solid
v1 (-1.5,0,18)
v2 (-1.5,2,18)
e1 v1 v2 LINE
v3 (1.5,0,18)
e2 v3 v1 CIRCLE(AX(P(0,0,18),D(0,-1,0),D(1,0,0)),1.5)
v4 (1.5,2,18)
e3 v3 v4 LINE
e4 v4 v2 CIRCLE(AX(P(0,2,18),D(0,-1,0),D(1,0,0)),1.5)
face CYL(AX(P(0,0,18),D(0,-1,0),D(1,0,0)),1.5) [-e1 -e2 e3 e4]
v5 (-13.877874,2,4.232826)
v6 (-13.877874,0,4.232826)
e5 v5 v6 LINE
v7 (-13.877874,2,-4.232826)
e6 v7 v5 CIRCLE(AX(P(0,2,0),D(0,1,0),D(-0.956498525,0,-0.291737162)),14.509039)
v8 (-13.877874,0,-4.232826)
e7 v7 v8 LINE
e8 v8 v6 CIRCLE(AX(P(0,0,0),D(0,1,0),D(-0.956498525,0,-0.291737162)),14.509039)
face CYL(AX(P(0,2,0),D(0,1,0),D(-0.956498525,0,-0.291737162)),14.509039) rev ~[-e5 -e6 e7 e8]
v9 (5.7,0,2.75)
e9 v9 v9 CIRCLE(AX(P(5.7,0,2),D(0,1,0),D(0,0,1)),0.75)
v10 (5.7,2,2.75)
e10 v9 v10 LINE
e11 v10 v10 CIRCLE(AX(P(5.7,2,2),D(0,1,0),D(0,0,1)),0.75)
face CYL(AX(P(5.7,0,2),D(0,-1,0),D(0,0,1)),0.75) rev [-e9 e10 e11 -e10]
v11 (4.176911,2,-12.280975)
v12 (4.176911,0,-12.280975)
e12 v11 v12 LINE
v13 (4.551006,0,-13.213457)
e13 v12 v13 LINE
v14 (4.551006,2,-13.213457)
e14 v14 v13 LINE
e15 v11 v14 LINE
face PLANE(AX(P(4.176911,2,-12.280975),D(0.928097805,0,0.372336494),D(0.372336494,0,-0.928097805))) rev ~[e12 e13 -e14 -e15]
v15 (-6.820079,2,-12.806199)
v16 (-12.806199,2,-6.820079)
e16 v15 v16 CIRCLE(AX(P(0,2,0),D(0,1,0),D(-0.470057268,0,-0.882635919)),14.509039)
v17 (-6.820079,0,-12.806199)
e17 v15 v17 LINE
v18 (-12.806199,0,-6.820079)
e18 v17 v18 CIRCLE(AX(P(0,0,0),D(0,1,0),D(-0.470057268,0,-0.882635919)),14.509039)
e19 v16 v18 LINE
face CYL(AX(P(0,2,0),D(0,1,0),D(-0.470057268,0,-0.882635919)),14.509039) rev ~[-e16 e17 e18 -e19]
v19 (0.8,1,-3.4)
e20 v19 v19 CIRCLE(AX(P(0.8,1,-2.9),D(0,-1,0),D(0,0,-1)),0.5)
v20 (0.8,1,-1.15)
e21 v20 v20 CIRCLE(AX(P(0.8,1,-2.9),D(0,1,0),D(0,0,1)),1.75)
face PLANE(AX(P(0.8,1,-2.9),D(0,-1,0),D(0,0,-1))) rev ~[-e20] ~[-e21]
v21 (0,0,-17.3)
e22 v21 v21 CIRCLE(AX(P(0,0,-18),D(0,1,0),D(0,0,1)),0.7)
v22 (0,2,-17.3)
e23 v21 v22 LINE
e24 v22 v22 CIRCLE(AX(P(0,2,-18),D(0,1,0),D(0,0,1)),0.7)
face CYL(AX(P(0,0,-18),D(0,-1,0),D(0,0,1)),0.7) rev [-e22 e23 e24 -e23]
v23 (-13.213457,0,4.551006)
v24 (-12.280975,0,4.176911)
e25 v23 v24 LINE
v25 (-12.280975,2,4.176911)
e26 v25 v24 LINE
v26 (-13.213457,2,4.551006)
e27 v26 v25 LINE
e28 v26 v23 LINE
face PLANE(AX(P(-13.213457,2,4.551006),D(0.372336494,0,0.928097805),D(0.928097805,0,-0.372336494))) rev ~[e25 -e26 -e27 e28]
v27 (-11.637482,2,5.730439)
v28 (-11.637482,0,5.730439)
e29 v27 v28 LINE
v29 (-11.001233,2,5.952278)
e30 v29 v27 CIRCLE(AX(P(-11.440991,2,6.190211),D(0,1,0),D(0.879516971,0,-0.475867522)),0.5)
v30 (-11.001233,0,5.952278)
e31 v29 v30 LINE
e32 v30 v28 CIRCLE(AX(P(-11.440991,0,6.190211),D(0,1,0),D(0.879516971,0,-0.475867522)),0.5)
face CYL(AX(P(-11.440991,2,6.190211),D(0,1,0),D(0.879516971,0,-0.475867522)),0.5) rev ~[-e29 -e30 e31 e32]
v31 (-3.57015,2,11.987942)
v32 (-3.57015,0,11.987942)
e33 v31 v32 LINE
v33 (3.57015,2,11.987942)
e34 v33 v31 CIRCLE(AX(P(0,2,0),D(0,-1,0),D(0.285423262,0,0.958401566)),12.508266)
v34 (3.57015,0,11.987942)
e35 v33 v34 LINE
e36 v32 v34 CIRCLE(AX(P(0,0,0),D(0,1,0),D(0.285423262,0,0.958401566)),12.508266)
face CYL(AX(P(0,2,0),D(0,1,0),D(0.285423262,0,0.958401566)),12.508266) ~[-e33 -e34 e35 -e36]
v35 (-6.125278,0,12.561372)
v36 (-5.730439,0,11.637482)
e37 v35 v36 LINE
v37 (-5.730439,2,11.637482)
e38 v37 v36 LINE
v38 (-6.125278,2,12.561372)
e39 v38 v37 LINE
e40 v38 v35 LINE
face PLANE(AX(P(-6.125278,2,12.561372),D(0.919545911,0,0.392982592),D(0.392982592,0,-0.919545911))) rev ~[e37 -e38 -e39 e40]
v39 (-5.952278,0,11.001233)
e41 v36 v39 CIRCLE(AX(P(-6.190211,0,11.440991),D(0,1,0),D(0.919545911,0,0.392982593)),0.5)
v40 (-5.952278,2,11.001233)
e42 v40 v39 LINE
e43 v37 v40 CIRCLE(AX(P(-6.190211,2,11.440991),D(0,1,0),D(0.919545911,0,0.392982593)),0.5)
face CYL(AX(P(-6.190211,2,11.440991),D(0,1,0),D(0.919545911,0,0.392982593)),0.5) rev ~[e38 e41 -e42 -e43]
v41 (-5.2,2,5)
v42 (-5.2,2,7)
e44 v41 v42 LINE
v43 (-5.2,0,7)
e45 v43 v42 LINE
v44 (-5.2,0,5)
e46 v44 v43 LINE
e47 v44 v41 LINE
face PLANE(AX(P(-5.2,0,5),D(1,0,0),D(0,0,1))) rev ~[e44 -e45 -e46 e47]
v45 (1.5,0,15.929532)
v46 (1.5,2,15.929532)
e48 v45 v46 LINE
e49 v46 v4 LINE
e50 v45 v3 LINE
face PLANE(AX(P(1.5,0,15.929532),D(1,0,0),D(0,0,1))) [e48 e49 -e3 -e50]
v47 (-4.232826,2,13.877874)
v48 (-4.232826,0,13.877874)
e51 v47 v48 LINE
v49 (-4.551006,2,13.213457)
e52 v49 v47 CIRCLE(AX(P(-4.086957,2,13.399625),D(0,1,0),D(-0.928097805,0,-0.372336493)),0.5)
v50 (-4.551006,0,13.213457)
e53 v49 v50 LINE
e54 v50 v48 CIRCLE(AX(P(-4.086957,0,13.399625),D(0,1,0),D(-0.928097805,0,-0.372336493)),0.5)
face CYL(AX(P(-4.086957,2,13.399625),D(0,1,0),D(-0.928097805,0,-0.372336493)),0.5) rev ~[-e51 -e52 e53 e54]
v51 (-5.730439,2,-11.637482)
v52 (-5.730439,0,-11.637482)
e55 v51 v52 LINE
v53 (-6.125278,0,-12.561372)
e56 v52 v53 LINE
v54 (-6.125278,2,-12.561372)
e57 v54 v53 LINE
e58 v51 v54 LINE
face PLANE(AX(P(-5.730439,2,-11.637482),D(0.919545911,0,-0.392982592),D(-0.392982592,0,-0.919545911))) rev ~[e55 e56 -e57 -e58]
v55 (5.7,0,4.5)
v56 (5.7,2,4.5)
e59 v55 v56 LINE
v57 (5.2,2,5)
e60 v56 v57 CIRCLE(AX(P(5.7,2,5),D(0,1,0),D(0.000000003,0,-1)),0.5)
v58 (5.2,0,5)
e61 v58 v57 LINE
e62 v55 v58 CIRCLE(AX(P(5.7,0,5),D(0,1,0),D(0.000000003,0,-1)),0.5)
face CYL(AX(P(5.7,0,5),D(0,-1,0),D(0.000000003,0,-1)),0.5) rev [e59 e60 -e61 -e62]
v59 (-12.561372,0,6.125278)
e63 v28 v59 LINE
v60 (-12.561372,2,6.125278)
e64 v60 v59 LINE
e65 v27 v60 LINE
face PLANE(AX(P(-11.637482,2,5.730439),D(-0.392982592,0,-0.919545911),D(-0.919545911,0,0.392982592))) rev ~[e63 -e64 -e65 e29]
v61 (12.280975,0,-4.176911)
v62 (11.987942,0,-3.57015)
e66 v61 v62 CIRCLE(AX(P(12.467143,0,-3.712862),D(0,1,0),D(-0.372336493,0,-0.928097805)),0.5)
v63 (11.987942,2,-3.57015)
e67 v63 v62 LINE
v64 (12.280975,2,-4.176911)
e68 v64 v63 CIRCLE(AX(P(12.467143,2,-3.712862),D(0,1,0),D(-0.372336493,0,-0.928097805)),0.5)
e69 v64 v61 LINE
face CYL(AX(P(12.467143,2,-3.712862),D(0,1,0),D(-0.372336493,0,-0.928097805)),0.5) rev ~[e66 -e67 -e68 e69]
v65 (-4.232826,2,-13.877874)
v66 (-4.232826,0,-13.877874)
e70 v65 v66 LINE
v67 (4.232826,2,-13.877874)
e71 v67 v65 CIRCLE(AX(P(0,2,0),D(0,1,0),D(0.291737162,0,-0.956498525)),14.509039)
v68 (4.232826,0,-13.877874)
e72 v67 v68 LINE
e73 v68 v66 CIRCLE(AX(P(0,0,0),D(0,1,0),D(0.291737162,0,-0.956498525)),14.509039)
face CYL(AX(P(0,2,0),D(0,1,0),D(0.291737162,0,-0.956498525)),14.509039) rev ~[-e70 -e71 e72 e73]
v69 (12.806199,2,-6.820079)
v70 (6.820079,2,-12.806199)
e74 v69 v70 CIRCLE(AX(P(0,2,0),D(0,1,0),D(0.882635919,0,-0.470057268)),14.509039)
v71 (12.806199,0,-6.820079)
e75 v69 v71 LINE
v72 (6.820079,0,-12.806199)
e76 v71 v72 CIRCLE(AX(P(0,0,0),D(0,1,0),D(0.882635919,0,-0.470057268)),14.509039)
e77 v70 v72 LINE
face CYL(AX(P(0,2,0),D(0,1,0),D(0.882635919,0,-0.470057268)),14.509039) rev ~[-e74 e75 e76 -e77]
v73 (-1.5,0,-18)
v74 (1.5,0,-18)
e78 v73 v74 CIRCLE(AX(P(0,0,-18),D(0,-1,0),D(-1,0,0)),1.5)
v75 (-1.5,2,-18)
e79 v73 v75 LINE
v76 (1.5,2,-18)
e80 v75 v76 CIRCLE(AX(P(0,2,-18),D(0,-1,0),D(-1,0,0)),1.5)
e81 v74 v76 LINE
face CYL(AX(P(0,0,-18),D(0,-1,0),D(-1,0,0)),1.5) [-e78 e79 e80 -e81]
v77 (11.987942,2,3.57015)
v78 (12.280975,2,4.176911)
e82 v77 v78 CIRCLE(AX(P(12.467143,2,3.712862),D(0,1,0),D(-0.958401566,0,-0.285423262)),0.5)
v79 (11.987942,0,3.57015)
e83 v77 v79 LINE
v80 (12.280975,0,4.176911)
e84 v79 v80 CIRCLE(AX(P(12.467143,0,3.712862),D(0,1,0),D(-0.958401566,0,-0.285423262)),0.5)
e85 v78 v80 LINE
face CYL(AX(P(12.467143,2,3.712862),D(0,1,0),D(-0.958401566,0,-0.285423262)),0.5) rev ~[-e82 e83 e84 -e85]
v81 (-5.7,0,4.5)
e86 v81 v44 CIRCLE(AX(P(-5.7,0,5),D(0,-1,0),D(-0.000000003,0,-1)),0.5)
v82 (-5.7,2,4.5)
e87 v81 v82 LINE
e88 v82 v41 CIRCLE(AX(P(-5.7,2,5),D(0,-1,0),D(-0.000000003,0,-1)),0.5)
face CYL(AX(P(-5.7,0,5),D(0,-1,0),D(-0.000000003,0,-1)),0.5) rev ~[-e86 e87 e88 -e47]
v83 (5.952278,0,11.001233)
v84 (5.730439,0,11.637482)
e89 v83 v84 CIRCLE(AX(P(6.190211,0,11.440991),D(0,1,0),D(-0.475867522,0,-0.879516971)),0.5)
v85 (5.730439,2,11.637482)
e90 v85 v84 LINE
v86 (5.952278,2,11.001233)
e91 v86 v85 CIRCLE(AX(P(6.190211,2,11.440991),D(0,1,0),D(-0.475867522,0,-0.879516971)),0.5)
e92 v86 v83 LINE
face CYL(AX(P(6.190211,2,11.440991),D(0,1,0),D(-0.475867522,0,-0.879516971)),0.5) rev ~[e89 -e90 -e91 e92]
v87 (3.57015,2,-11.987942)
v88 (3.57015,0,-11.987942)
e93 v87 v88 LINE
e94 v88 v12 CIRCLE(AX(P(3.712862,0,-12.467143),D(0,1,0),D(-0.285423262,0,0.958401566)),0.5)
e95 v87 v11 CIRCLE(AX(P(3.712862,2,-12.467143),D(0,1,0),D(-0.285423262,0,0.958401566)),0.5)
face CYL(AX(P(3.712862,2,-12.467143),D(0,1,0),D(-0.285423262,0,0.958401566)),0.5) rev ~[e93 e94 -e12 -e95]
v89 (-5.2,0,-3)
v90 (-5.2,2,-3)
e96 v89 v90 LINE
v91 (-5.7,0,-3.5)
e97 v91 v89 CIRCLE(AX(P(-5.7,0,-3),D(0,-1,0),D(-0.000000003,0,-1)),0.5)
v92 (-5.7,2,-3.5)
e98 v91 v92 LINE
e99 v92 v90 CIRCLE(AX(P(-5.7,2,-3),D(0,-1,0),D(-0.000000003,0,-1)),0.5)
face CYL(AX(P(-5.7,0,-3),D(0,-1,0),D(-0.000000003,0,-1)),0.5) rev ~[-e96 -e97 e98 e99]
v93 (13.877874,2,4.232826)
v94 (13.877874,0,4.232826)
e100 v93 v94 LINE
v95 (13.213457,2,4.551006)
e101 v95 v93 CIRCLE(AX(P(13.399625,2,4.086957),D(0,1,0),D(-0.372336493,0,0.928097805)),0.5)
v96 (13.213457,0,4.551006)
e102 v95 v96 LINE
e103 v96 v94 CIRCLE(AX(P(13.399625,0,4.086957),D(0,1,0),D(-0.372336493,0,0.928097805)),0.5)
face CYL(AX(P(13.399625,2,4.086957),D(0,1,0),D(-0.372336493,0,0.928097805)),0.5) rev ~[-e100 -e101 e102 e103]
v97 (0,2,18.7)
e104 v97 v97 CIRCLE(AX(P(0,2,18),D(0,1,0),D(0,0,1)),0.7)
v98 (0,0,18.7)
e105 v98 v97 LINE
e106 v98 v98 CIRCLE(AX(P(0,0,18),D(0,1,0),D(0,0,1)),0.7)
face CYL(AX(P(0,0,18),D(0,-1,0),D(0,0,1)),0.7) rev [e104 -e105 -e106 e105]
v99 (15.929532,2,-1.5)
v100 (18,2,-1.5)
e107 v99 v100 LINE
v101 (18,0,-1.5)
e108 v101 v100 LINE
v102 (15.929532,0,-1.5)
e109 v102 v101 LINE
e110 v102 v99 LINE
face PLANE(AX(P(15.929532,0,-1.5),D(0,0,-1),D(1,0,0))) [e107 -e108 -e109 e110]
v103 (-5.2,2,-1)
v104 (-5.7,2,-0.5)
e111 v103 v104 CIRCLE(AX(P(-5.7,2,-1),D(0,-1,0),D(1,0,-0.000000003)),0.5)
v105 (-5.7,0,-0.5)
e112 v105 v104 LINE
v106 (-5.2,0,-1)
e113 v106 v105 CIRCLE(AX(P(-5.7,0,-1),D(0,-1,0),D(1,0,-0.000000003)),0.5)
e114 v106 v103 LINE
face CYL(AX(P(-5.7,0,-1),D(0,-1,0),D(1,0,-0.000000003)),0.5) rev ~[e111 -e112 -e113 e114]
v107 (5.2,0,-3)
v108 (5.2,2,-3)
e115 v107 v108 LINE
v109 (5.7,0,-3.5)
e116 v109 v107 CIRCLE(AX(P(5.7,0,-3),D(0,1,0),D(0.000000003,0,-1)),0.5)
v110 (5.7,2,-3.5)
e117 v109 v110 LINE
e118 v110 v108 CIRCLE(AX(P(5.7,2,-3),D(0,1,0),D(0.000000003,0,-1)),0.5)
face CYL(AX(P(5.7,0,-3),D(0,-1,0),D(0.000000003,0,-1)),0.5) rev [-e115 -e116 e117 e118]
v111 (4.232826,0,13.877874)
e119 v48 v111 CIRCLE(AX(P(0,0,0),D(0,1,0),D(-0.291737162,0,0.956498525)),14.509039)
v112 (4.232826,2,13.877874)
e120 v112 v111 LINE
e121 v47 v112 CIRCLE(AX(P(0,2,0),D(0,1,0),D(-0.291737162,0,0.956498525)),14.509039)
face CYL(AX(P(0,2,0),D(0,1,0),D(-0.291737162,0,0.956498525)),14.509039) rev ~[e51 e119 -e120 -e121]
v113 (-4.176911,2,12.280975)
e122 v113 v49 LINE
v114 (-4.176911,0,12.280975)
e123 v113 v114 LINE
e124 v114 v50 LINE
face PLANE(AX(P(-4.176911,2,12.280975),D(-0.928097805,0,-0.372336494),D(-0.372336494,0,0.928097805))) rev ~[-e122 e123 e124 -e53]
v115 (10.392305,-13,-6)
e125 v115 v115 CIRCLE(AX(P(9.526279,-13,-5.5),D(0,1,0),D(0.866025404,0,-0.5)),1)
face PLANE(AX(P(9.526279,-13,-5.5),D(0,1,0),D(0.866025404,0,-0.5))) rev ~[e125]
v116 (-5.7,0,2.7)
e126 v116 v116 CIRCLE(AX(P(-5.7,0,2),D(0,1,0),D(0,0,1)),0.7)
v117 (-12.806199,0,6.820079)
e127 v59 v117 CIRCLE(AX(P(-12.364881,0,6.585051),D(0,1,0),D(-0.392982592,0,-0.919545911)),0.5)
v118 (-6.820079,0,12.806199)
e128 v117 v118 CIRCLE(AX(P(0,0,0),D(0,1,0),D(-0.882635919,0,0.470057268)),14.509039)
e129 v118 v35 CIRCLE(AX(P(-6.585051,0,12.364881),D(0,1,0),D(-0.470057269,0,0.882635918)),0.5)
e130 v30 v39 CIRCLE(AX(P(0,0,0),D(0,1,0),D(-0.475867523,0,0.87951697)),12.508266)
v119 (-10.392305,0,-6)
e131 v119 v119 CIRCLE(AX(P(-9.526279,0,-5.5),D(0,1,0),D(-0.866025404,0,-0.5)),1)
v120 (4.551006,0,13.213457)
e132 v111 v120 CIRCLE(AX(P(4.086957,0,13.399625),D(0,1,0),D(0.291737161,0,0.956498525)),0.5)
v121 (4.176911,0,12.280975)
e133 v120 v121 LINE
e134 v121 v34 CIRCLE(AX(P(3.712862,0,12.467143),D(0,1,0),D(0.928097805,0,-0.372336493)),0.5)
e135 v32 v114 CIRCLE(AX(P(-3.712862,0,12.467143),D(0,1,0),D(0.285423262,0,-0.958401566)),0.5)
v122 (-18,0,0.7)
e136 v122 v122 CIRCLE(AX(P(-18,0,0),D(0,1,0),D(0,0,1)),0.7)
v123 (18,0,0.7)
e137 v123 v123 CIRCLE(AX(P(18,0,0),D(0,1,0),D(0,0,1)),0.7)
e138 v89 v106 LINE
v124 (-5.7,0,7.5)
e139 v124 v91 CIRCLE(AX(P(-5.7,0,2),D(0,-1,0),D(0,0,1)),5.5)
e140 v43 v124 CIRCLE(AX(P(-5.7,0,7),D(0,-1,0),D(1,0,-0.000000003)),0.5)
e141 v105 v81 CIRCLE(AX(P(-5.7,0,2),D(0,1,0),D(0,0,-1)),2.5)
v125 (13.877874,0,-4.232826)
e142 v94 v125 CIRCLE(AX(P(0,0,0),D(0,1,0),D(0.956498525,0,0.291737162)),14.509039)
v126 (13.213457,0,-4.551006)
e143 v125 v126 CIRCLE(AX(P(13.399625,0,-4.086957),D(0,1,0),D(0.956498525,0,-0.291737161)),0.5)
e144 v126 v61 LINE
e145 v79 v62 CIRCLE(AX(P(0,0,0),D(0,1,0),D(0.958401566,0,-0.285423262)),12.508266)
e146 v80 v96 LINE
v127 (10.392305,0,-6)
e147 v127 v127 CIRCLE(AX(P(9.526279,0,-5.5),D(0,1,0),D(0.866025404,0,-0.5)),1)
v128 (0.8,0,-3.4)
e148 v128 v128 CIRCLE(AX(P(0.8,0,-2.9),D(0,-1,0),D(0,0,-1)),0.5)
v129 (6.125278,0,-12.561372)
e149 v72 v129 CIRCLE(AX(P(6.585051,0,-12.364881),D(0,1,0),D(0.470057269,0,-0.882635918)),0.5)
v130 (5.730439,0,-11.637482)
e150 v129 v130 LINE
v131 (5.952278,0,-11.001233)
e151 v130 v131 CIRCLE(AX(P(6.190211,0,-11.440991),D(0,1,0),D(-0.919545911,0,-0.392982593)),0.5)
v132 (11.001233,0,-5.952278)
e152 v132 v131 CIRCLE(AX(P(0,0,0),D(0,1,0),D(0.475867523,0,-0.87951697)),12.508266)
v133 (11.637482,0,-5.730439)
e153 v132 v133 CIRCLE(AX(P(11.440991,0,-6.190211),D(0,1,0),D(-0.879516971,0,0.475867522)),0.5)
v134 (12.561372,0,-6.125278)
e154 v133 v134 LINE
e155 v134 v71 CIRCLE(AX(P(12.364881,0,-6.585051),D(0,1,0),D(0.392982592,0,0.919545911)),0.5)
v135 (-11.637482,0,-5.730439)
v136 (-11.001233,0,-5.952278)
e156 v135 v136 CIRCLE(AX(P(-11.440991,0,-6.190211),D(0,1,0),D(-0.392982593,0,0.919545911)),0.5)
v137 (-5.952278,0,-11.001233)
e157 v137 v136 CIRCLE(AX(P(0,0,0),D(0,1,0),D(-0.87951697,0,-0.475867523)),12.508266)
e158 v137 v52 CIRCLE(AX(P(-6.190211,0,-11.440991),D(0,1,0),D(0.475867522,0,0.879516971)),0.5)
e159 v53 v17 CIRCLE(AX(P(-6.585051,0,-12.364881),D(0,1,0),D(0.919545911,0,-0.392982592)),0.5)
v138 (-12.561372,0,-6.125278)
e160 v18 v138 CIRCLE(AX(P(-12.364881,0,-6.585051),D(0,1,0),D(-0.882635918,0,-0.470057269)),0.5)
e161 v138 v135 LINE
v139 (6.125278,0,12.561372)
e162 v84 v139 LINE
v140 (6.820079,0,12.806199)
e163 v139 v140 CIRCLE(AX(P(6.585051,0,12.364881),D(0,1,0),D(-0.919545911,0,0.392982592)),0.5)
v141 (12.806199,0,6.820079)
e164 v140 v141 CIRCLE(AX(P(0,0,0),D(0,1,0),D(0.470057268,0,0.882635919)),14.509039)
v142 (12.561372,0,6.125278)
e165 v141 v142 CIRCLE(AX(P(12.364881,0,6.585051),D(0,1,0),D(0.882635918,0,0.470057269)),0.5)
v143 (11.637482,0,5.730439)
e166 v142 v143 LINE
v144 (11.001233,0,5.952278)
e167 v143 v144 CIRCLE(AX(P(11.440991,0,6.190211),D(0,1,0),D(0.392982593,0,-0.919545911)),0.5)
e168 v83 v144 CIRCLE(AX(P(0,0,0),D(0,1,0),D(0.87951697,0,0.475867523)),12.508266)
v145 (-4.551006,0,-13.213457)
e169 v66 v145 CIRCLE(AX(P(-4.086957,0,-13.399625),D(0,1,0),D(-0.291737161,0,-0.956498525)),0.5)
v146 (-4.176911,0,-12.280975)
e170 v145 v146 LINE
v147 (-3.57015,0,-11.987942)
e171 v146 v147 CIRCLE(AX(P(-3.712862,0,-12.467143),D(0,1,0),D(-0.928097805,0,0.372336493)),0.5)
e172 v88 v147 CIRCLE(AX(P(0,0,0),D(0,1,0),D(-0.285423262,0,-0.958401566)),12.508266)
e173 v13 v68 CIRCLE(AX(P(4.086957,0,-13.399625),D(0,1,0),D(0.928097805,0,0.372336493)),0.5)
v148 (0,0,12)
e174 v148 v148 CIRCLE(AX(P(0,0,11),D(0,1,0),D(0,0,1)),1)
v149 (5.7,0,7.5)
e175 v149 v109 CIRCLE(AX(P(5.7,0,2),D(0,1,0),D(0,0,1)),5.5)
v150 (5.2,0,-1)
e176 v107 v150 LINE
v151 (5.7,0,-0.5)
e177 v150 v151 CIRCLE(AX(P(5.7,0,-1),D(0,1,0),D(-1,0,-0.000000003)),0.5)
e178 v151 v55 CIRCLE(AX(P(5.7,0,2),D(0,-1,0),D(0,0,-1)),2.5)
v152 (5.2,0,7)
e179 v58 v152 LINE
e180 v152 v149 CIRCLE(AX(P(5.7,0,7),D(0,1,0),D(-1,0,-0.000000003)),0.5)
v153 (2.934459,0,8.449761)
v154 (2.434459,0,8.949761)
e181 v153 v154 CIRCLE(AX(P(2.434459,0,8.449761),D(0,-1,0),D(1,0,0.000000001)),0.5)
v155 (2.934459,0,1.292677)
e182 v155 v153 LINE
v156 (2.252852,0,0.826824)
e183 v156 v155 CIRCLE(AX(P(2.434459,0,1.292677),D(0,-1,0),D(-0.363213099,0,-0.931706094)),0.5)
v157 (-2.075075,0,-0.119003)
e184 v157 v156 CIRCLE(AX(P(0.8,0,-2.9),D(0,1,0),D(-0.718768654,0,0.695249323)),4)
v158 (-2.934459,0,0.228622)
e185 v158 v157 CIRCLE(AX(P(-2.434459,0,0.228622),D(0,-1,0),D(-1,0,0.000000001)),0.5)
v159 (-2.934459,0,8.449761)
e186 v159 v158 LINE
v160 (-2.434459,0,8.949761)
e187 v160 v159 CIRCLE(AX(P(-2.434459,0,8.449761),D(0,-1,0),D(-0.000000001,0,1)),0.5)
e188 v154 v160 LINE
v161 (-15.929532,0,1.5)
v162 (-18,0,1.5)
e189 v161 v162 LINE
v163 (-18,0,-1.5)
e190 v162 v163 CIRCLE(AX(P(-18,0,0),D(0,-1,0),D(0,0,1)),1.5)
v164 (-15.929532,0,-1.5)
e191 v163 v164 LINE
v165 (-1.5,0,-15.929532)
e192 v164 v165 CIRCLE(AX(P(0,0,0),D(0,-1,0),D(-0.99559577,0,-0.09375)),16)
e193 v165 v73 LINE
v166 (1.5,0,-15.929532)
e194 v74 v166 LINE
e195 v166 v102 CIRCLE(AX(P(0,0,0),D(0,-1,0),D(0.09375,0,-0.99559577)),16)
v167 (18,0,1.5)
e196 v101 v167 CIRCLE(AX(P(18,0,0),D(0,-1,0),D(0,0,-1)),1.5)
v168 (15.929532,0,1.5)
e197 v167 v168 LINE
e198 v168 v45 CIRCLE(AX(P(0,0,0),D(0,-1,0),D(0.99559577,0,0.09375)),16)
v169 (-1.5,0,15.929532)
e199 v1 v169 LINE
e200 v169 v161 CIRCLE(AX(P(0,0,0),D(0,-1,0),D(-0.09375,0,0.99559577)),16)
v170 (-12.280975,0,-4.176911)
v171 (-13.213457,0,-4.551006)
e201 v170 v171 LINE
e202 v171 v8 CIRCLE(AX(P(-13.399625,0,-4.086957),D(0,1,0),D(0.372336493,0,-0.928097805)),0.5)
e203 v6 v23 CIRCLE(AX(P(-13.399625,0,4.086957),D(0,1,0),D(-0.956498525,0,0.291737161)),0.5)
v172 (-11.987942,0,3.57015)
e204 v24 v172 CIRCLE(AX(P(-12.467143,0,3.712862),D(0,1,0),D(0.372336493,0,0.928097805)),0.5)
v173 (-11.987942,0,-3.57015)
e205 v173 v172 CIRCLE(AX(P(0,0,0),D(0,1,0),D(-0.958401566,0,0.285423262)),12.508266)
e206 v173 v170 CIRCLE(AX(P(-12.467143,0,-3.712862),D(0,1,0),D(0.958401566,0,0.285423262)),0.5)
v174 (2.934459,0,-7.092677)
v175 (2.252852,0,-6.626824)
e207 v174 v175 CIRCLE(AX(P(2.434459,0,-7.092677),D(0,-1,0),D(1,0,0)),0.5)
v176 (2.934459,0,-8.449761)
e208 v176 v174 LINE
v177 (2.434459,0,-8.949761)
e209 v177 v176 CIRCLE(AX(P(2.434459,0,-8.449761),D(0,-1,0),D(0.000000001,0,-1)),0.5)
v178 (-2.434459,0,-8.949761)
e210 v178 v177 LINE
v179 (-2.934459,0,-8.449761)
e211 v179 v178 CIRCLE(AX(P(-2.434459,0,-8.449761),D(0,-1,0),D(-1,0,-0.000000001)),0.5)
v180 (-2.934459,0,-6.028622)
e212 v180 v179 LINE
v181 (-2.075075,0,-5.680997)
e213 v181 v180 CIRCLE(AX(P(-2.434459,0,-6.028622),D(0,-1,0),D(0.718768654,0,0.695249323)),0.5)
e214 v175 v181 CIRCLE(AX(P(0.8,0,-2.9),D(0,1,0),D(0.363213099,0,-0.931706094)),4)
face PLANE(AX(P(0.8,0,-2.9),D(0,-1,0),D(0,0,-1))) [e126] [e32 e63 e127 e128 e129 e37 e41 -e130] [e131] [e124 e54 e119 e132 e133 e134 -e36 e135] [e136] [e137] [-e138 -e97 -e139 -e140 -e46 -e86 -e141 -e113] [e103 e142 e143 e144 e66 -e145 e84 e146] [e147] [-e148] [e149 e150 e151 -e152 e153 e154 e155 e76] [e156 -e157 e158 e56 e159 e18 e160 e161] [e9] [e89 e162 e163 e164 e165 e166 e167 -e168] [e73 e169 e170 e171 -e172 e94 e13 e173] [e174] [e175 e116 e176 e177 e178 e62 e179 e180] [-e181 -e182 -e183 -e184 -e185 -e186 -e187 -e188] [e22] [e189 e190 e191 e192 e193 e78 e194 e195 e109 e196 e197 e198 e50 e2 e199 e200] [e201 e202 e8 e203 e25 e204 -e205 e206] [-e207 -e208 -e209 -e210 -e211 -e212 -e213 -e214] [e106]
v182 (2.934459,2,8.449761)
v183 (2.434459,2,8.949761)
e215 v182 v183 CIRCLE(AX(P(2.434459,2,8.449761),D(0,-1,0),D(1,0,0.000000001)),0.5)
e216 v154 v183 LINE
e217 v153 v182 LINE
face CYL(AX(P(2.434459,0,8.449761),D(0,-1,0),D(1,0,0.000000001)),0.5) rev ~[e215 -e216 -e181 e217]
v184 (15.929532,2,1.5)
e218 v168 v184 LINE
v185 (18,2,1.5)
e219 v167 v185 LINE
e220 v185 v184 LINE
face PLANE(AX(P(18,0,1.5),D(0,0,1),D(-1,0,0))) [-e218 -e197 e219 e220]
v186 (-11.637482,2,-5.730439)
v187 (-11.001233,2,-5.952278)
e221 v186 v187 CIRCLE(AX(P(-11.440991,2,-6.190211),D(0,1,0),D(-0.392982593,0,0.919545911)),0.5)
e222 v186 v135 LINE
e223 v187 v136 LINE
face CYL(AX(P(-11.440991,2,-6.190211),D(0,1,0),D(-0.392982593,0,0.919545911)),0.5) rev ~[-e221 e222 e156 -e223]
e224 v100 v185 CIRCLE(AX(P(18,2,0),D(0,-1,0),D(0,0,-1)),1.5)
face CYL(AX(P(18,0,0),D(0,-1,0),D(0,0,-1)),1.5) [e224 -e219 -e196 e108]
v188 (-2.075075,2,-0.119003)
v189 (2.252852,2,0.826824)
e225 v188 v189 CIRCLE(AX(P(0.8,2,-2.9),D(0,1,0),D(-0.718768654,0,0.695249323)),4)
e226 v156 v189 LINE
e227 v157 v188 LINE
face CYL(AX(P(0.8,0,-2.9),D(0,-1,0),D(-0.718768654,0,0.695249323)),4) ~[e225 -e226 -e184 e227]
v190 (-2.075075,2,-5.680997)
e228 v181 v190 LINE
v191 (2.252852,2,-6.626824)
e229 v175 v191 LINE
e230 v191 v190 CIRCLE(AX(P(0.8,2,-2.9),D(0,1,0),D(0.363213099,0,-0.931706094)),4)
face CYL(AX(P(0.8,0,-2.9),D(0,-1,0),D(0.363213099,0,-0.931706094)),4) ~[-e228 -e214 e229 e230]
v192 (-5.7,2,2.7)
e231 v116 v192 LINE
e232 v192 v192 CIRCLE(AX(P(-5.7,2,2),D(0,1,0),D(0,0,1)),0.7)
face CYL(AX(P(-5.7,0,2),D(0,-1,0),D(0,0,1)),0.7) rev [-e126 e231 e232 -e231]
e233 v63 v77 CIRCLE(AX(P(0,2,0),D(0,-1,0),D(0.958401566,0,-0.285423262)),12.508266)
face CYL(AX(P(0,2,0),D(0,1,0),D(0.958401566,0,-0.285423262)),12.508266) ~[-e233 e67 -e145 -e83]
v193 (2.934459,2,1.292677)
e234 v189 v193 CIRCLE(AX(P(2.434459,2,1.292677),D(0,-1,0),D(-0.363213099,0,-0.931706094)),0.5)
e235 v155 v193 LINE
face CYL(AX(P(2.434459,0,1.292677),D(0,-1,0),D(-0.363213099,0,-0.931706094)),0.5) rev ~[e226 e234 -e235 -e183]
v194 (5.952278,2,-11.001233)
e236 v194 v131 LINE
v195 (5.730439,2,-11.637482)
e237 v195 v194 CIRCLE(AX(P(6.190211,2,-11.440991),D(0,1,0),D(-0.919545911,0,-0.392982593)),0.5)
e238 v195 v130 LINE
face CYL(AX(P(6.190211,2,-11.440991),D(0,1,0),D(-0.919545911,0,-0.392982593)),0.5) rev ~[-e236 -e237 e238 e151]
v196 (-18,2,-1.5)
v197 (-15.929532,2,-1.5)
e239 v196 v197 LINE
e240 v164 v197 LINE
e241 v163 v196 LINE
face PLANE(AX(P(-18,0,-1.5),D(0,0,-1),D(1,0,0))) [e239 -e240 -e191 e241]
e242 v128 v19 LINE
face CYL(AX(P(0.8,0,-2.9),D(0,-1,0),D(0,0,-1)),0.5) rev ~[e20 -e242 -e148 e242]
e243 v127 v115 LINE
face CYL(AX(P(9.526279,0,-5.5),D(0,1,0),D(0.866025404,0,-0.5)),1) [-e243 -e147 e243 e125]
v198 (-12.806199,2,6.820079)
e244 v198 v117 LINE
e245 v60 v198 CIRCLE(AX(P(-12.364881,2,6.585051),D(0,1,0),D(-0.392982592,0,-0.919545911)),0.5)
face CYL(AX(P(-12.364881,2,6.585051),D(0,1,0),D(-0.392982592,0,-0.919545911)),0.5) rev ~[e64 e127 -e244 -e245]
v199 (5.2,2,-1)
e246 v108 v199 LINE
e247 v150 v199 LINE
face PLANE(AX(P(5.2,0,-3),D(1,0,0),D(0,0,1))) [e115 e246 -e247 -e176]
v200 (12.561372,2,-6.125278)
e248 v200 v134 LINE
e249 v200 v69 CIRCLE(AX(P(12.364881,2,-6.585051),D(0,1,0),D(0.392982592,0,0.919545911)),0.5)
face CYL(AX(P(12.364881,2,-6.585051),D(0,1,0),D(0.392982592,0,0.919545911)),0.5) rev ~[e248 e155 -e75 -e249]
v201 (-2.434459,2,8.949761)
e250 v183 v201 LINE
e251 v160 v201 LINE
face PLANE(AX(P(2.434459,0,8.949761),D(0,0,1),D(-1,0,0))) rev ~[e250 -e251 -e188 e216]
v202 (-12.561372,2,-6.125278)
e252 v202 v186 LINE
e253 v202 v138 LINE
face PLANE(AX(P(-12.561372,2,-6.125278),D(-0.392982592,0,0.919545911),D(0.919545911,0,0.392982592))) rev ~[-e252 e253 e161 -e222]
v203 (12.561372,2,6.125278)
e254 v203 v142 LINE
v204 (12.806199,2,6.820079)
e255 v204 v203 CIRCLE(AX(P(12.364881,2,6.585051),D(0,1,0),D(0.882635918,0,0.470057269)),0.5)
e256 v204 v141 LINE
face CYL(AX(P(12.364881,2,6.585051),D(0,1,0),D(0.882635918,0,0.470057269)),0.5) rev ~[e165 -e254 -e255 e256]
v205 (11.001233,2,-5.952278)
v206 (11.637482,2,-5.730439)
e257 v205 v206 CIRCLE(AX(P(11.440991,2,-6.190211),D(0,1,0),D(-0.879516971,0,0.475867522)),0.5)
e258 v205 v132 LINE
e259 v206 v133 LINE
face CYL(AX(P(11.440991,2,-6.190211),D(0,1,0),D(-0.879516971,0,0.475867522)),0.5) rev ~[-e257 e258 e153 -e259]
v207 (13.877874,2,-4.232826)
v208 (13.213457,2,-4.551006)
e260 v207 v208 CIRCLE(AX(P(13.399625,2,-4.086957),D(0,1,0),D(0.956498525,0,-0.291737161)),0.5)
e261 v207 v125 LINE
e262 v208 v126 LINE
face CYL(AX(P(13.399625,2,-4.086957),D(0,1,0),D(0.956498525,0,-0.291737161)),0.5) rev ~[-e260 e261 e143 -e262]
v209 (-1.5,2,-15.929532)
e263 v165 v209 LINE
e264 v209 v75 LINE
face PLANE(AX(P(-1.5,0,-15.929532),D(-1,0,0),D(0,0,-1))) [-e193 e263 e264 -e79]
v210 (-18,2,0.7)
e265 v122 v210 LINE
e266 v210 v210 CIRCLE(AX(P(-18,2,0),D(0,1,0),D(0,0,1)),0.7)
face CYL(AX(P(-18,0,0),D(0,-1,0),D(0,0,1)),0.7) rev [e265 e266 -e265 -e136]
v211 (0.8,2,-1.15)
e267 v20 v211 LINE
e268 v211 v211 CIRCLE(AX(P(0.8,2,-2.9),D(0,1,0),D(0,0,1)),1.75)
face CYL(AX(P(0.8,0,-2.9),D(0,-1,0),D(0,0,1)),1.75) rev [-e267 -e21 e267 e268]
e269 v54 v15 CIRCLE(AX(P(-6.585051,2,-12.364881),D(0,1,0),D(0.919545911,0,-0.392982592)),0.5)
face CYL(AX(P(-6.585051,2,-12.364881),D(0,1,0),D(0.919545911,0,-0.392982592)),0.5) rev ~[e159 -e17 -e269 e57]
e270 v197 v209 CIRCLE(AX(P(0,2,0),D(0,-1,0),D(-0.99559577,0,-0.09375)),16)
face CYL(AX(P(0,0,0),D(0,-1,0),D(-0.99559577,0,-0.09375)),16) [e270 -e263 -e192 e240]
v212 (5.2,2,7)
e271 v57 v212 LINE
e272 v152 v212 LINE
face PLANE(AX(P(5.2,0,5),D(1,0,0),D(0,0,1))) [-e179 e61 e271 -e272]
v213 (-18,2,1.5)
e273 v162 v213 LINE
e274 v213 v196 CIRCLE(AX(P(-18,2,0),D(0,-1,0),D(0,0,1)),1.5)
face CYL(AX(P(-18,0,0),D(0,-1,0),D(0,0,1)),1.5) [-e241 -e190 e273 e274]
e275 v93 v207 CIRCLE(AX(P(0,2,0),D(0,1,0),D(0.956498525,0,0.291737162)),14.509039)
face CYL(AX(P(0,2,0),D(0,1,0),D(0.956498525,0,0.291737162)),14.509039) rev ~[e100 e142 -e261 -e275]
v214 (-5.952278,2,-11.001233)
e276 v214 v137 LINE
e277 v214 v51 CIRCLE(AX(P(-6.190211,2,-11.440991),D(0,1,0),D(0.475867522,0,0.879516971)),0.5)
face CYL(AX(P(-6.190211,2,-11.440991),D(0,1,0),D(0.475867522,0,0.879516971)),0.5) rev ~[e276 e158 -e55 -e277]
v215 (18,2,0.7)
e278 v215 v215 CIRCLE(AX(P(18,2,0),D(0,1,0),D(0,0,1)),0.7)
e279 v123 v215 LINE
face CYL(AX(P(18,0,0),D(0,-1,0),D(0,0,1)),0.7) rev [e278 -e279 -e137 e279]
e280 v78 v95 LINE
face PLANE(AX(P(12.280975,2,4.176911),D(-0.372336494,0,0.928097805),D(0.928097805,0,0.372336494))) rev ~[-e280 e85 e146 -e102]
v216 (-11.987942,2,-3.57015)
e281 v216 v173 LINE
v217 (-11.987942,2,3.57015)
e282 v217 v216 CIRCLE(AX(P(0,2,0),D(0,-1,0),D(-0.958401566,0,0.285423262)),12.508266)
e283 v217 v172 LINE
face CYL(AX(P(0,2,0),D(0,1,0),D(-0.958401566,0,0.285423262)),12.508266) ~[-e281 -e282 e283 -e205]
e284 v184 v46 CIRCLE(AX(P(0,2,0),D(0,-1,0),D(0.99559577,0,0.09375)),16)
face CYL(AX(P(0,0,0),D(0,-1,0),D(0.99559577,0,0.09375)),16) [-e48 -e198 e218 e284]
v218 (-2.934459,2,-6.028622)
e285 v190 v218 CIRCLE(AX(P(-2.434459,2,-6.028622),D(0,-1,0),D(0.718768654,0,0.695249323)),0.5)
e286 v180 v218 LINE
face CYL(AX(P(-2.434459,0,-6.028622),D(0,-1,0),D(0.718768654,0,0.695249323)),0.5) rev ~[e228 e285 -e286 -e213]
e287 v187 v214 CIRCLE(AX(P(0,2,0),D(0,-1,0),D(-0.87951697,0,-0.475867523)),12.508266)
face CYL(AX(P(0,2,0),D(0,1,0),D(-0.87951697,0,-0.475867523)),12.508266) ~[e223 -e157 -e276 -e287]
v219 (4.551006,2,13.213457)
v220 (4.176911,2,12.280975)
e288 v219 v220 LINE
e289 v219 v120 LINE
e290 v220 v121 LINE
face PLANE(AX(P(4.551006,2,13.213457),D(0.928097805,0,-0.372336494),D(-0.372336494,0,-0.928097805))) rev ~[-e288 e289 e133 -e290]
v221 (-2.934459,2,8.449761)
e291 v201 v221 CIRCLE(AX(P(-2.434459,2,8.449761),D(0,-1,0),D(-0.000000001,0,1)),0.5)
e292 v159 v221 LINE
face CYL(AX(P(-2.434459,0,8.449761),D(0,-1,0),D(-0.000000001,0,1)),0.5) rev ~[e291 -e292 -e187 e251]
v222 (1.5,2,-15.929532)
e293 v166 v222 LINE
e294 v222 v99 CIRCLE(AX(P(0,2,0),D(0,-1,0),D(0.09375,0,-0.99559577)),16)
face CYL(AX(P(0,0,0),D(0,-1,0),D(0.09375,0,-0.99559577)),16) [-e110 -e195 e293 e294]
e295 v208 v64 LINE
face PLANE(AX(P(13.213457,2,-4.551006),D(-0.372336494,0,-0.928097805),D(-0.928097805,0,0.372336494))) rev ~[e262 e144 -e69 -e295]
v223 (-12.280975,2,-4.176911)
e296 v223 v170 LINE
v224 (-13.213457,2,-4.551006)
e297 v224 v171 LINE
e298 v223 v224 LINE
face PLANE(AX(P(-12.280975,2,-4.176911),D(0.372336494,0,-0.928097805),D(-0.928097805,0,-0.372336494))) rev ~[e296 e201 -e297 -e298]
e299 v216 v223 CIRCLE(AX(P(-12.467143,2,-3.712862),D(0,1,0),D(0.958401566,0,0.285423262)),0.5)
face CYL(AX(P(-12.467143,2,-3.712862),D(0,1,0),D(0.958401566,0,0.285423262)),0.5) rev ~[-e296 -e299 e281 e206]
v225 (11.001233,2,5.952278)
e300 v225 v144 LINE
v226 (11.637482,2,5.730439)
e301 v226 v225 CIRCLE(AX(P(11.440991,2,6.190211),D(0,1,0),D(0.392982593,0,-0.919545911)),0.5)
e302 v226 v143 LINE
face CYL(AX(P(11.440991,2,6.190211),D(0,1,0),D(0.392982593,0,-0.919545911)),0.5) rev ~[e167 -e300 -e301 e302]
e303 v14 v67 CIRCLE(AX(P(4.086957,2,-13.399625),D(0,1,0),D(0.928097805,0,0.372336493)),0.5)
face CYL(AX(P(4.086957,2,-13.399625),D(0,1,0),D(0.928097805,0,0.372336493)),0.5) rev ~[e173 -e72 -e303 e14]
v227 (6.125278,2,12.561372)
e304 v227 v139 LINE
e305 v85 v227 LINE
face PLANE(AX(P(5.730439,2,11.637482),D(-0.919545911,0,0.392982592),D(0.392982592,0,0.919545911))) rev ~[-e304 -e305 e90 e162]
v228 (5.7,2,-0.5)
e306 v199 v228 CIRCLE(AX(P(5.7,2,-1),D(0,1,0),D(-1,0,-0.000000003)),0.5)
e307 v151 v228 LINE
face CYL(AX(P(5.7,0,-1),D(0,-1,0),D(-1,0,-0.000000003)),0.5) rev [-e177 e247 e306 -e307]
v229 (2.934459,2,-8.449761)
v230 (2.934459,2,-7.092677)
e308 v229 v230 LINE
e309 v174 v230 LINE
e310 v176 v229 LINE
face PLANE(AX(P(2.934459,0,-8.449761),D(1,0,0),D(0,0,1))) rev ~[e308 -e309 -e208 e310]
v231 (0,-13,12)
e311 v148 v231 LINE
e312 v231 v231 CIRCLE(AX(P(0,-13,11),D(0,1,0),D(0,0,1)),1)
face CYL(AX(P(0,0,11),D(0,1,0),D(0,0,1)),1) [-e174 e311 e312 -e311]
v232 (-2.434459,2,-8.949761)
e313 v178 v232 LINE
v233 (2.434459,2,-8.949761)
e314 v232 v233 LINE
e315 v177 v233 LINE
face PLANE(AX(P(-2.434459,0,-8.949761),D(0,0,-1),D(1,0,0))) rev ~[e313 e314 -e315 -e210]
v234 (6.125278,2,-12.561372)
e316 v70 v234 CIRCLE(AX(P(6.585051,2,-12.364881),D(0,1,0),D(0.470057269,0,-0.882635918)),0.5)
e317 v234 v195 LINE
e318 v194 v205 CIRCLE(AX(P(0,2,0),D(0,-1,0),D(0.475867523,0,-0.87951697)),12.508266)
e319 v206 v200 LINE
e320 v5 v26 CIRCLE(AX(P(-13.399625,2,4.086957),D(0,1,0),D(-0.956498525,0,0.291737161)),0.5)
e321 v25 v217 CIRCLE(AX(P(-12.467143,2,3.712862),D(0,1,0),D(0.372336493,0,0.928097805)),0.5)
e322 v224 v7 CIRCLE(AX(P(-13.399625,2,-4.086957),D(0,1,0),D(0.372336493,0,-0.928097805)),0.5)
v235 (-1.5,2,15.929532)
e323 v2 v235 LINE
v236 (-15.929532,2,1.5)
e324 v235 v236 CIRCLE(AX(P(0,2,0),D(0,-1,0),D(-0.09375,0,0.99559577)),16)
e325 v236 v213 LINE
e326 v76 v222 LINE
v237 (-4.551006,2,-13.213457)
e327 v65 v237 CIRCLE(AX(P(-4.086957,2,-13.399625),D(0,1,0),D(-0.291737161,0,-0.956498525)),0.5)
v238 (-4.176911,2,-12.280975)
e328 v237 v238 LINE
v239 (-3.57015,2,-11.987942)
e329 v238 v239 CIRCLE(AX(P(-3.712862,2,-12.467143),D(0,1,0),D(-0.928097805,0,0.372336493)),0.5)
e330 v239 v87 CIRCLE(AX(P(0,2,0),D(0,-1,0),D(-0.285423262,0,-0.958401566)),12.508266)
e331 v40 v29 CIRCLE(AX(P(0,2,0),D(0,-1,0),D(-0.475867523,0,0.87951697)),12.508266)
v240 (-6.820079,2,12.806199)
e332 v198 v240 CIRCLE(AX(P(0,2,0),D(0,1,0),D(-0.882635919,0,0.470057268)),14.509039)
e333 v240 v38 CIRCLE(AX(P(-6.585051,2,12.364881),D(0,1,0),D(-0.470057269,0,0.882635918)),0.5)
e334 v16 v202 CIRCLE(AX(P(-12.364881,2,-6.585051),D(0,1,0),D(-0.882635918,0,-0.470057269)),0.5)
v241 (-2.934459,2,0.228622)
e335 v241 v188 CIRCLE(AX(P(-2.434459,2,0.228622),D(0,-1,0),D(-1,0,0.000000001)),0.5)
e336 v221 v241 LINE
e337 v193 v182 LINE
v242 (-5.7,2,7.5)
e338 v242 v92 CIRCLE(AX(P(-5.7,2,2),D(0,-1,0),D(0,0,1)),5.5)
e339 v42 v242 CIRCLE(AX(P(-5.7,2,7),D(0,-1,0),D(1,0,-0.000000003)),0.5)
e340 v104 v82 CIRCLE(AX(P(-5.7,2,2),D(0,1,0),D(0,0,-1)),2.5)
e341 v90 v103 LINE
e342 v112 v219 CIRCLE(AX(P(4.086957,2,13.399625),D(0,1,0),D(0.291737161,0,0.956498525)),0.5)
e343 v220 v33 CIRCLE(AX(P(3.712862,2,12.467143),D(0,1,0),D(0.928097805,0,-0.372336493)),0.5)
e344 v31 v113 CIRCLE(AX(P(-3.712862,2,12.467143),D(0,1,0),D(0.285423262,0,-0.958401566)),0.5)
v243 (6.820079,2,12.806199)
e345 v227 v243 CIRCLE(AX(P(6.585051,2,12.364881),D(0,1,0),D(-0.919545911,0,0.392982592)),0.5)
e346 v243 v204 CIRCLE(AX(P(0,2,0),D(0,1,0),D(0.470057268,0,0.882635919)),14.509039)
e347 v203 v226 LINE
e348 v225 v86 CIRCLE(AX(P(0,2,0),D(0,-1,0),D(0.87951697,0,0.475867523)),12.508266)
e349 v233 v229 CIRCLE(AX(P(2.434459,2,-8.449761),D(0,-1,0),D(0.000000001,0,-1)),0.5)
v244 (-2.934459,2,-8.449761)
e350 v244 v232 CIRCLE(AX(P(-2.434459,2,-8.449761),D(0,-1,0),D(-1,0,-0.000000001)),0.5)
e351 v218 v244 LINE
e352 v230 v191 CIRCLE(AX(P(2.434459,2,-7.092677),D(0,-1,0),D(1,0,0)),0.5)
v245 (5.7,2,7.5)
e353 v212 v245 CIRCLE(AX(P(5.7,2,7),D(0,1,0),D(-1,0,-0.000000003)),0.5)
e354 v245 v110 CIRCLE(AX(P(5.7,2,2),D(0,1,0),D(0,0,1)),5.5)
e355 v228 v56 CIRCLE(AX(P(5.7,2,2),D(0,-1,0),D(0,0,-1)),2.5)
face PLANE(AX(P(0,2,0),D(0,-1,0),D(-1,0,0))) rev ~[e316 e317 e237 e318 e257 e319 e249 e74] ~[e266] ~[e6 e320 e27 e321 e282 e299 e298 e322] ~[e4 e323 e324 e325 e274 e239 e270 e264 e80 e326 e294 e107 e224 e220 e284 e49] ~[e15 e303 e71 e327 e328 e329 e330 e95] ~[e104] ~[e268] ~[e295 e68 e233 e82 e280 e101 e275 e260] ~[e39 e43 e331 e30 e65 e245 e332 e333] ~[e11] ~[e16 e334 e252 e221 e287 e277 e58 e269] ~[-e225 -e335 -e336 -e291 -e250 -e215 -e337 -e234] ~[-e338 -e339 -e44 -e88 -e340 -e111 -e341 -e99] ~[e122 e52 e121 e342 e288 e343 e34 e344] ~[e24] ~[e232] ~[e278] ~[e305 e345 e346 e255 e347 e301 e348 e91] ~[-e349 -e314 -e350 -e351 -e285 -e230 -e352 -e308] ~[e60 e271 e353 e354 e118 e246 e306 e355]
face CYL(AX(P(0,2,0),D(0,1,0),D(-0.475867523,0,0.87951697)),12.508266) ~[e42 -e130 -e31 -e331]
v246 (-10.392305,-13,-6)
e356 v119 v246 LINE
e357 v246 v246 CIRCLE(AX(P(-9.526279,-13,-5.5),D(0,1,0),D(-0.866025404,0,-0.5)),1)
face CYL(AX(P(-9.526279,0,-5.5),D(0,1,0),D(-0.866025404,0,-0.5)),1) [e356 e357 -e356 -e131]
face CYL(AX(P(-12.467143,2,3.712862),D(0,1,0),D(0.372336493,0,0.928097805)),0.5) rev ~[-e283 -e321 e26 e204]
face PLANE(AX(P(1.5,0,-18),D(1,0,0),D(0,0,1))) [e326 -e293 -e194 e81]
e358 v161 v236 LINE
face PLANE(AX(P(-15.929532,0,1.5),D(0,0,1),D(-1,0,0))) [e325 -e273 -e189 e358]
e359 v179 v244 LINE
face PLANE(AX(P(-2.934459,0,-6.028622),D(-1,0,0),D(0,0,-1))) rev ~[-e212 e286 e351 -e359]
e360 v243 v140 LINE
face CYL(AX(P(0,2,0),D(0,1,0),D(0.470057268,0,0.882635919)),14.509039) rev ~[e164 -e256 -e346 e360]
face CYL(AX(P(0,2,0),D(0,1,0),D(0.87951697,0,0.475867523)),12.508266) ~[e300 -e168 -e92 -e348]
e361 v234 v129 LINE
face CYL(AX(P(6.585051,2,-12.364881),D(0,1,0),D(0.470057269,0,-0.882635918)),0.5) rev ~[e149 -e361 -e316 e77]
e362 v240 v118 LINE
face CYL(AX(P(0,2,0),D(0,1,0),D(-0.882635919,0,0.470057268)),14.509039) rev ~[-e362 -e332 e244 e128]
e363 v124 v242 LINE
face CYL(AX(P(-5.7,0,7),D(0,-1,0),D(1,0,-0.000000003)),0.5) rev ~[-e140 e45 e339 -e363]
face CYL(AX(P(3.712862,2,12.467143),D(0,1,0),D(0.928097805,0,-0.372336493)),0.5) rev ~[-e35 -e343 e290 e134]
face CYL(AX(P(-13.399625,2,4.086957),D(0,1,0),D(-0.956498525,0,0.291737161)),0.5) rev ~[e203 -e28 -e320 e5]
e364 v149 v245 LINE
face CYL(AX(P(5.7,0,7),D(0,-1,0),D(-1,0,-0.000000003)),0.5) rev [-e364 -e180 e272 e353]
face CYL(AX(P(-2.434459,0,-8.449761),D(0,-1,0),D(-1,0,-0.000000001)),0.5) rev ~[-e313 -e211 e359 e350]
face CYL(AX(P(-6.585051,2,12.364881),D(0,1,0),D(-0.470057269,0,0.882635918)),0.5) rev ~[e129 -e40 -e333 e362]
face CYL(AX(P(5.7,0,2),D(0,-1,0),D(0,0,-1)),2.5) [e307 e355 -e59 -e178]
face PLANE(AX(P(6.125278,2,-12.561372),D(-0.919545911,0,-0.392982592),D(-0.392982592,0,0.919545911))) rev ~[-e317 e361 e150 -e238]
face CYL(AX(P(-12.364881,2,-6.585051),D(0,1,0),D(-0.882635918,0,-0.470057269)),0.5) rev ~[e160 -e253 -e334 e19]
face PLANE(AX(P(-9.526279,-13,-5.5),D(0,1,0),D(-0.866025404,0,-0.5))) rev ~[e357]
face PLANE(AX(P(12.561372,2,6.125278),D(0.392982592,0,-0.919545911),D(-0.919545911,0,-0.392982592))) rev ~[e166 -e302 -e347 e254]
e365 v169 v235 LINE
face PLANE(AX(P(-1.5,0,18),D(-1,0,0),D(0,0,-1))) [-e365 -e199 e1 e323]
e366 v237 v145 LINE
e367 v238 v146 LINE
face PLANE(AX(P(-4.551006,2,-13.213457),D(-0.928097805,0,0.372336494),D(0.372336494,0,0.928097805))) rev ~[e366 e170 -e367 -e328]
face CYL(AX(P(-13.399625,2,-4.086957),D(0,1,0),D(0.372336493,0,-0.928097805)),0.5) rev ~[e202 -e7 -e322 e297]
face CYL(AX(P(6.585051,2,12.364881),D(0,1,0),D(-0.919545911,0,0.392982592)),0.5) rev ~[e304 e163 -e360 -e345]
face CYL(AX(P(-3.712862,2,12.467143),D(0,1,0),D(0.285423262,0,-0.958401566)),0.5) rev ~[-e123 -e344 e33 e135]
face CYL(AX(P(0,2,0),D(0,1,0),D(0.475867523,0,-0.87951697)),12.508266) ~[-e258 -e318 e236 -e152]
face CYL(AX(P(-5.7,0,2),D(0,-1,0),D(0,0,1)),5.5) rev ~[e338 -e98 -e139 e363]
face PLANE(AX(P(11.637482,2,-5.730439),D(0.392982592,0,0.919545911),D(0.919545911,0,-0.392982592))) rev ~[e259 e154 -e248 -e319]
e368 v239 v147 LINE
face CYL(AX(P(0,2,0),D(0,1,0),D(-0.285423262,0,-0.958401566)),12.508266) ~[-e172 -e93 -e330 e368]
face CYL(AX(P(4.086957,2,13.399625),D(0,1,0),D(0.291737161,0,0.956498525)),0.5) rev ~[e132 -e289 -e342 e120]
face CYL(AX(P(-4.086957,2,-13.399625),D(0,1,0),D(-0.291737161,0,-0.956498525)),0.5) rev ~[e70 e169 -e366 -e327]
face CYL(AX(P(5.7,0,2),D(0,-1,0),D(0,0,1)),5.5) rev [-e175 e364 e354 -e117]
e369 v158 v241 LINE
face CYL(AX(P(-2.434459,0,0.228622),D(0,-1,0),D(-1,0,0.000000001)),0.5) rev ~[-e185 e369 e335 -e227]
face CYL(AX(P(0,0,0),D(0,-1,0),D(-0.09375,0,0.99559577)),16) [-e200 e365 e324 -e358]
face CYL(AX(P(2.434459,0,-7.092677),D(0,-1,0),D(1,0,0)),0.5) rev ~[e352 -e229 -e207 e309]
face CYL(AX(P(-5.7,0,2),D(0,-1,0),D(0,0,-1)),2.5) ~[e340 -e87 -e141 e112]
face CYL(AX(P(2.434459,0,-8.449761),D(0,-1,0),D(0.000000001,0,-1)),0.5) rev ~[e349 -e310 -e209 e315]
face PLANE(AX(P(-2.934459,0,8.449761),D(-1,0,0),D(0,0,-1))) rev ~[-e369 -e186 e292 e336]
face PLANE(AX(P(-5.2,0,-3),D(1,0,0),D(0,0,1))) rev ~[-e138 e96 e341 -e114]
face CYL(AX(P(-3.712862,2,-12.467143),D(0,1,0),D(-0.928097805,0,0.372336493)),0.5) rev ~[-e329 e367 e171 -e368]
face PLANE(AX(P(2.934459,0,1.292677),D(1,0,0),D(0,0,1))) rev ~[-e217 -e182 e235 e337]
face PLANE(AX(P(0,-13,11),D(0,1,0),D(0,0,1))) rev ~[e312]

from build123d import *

# Parameters (mm, degrees)
SKETCH1_R           = 1
BOSS_EXTRUDE1_DEPTH = 13
SKETCH2_R           = 1.75
SKETCH2_R_2         = 0.7
SKETCH2_R_3         = 0.75
BOSS_EXTRUDE2_DEPTH = 2
CIRPATTERN2_COUNT   = 3
SKETCH5_R           = 1.75
SKETCH5_R_2         = 0.5
BOSS_EXTRUDE3_DEPTH = 1
CUT_EXTRUDE1_REACH  = 33.393
CIRPATTERN3_COUNT   = 8


with BuildPart() as part:
    # Sketch1 → Boss-Extrude1 (new body)
    with BuildSketch(Plane(origin=(0, 0, 0), x_dir=(1, 0, 0), z_dir=(0, 1, 0))):
        with Locations((0, -11)):
            Circle(SKETCH1_R)
    boss_extrude1 = extrude(amount=-BOSS_EXTRUDE1_DEPTH)

    # Sketch2 → Boss-Extrude2 (add)
    with BuildSketch(Plane(origin=(0, 0, 0), x_dir=(1, 0, 0), z_dir=(0, 1, 0))):
        with BuildLine():
            Line((-18, 1.5), (-15.929532322, 1.5))
            ThreePointArc((-15.929532322, 1.5), (-11.313708499, 11.313708499), (-1.5, 15.929532322))
            Line((-1.5, 15.929532322), (-1.5, 18))
            ThreePointArc((-1.5, 18), (0, 19.5), (1.5, 18))
            Line((1.5, 18), (1.5, 15.929532322))
            ThreePointArc((1.5, 15.929532322), (11.313708499, 11.313708499), (15.929532322, 1.5))
            Line((15.929532322, 1.5), (18, 1.5))
            ThreePointArc((18, 1.5), (19.5, 0), (18, -1.5))
            Line((18, -1.5), (15.929532322, -1.5))
            ThreePointArc((15.929532322, -1.5), (11.313708499, -11.313708499), (1.5, -15.929532322))
            Line((1.5, -15.929532322), (1.5, -18))
            ThreePointArc((1.5, -18), (0, -19.5), (-1.5, -18))
            Line((-1.5, -18), (-1.5, -15.929532322))
            ThreePointArc((-1.5, -15.929532322), (-11.313708499, -11.313708499), (-15.929532322, -1.5))
            Line((-15.929532322, -1.5), (-18, -1.5))
            ThreePointArc((-18, -1.5), (-19.5, 0), (-18, 1.5))
        make_face()
        with Locations((0.8, 2.9)):
            Circle(SKETCH2_R, mode=Mode.SUBTRACT)
        with Locations((0, 18)):
            Circle(SKETCH2_R_2, mode=Mode.SUBTRACT)
        with Locations((18, 0)):
            Circle(SKETCH2_R_2, mode=Mode.SUBTRACT)
        with Locations((-18, 0)):
            Circle(SKETCH2_R_2, mode=Mode.SUBTRACT)
        with Locations((0, -18)):
            Circle(SKETCH2_R_2, mode=Mode.SUBTRACT)
        with Locations((-5.7, -2)):
            Circle(SKETCH2_R_2, mode=Mode.SUBTRACT)
        with Locations((5.7, -2)):
            Circle(SKETCH2_R_3, mode=Mode.SUBTRACT)
        with BuildLine():
            Line((-5.2, 3), (-5.2, 1))
            ThreePointArc((-5.2, 1), (-5.346446609, 0.646446609), (-5.7, 0.5))
            ThreePointArc((-5.7, 0.5), (-8.2, -2), (-5.7, -4.5))
            ThreePointArc((-5.7, -4.5), (-5.346446609, -4.646446609), (-5.2, -5))
            Line((-5.2, -5), (-5.2, -7))
            ThreePointArc((-5.2, -7), (-5.346446609, -7.353553391), (-5.7, -7.5))
            ThreePointArc((-5.7, -7.5), (-11.2, -2), (-5.7, 3.5))
            ThreePointArc((-5.7, 3.5), (-5.346446609, 3.353553391), (-5.2, 3))
        make_face(mode=Mode.SUBTRACT)
        with BuildLine():
            Line((2.934458944, -1.292677422), (2.934458944, -8.449761431))
            ThreePointArc((2.934458944, -8.449761431), (2.788012334, -8.803314822), (2.434458944, -8.949761431))
            Line((2.434458944, -8.949761431), (-2.434458944, -8.949761431))
            ThreePointArc((-2.434458944, -8.949761431), (-2.788012334, -8.803314822), (-2.934458944, -8.449761431))
            Line((-2.934458944, -8.449761431), (-2.934458944, -0.228621956))
            ThreePointArc((-2.934458944, -0.228621956), (-2.621952726, 0.234892965), (-2.075074617, 0.119002706))
            ThreePointArc((-2.075074617, 0.119002706), (-0.054005989, -1.007770947), (2.252852394, -0.826824375))
            ThreePointArc((2.252852394, -0.826824375), (2.716590762, -0.87988009), (2.934458944, -1.292677422))
        make_face(mode=Mode.SUBTRACT)
        with BuildLine():
            Line((-2.434458944, 8.949761431), (2.434458944, 8.949761431))
            ThreePointArc((2.434458944, 8.949761431), (2.788012334, 8.803314822), (2.934458944, 8.449761431))
            Line((2.934458944, 8.449761431), (2.934458944, 7.092677422))
            ThreePointArc((2.934458944, 7.092677422), (2.716590762, 6.67988009), (2.252852394, 6.626824375))
            ThreePointArc((2.252852394, 6.626824375), (-0.054005989, 6.807770947), (-2.075074617, 5.680997294))
            ThreePointArc((-2.075074617, 5.680997294), (-2.621952726, 5.565107035), (-2.934458944, 6.028621956))
            Line((-2.934458944, 6.028621956), (-2.934458944, 8.449761431))
            ThreePointArc((-2.934458944, 8.449761431), (-2.788012334, 8.803314822), (-2.434458944, 8.949761431))
        make_face(mode=Mode.SUBTRACT)
        with BuildLine():
            Line((5.2, -5), (5.2, -7))
            ThreePointArc((5.2, -7), (5.346446609, -7.353553391), (5.7, -7.5))
            ThreePointArc((5.7, -7.5), (11.2, -2), (5.7, 3.5))
            ThreePointArc((5.7, 3.5), (5.346446609, 3.353553391), (5.2, 3))
            Line((5.2, 3), (5.2, 1))
            ThreePointArc((5.2, 1), (5.346446609, 0.646446609), (5.7, 0.5))
            ThreePointArc((5.7, 0.5), (8.2, -2), (5.7, -4.5))
            ThreePointArc((5.7, -4.5), (5.346446609, -4.646446609), (5.2, -5))
        make_face(mode=Mode.SUBTRACT)
    extrude(amount=BOSS_EXTRUDE2_DEPTH)

    # CirPattern2: Boss-Extrude1 ×3 about axis
    cirpattern2_axis = Axis((0, 0.65, 0), (0, -1, 0))
    for i in range(1, CIRPATTERN2_COUNT):
        add(boss_extrude1.rotate(cirpattern2_axis, i * 360 / CIRPATTERN2_COUNT))

    # Sketch5 → Boss-Extrude3 (add)
    with BuildSketch(Plane.XZ):
        with Locations((0.8, -2.9)):
            Circle(SKETCH5_R)
        with Locations((0.8, -2.9)):
            Circle(SKETCH5_R_2, mode=Mode.SUBTRACT)
    extrude(amount=-BOSS_EXTRUDE3_DEPTH)

    # Sketch8 → Cut-Extrude1 (cut, up to next)
    with BuildSketch(Plane(origin=(0, 2, 0), x_dir=(1, 0, 0), z_dir=(0, 1, 0)), mode=Mode.PRIVATE) as cut_extrude1_sk1:
        with BuildLine():
            Line((4.176910704, 12.28097457), (4.551006159, 13.213456818))
            ThreePointArc((4.551006159, 13.213456818), (4.537914561, 13.615582258), (4.232825837, 13.877874327))
            ThreePointArc((4.232825837, 13.877874327), (0, 14.509038921), (-4.232825837, 13.877874327))
            ThreePointArc((-4.232825837, 13.877874327), (-4.537914561, 13.615582258), (-4.551006159, 13.213456818))
            Line((-4.551006159, 13.213456818), (-4.176910704, 12.28097457))
            ThreePointArc((-4.176910704, 12.28097457), (-3.930304731, 12.016900024), (-3.570150171, 11.987942034))
            ThreePointArc((-3.570150171, 11.987942034), (0, 12.508266325), (3.570150171, 11.987942034))
            ThreePointArc((3.570150171, 11.987942034), (3.930304731, 12.016900024), (4.176910704, 12.28097457))
        make_face()
    cut_extrude1_tool1 = extrude(cut_extrude1_sk1.sketch, amount=-CUT_EXTRUDE1_REACH, mode=Mode.PRIVATE) & part.part
    cut_extrude1 = cut_extrude1_tool1.solids().sort_by_distance((0, 2, -13.296858))[0]
    add(cut_extrude1, mode=Mode.SUBTRACT)

    # CirPattern3: Cut-Extrude1 ×8 about axis
    cirpattern3_axis = Axis((0, 0.65, 0), (0, -1, 0))
    for i in range(1, CIRPATTERN3_COUNT):
        add(cut_extrude1.rotate(cirpattern3_axis, i * 360 / CIRPATTERN3_COUNT), mode=Mode.SUBTRACT)


solid = part.part
